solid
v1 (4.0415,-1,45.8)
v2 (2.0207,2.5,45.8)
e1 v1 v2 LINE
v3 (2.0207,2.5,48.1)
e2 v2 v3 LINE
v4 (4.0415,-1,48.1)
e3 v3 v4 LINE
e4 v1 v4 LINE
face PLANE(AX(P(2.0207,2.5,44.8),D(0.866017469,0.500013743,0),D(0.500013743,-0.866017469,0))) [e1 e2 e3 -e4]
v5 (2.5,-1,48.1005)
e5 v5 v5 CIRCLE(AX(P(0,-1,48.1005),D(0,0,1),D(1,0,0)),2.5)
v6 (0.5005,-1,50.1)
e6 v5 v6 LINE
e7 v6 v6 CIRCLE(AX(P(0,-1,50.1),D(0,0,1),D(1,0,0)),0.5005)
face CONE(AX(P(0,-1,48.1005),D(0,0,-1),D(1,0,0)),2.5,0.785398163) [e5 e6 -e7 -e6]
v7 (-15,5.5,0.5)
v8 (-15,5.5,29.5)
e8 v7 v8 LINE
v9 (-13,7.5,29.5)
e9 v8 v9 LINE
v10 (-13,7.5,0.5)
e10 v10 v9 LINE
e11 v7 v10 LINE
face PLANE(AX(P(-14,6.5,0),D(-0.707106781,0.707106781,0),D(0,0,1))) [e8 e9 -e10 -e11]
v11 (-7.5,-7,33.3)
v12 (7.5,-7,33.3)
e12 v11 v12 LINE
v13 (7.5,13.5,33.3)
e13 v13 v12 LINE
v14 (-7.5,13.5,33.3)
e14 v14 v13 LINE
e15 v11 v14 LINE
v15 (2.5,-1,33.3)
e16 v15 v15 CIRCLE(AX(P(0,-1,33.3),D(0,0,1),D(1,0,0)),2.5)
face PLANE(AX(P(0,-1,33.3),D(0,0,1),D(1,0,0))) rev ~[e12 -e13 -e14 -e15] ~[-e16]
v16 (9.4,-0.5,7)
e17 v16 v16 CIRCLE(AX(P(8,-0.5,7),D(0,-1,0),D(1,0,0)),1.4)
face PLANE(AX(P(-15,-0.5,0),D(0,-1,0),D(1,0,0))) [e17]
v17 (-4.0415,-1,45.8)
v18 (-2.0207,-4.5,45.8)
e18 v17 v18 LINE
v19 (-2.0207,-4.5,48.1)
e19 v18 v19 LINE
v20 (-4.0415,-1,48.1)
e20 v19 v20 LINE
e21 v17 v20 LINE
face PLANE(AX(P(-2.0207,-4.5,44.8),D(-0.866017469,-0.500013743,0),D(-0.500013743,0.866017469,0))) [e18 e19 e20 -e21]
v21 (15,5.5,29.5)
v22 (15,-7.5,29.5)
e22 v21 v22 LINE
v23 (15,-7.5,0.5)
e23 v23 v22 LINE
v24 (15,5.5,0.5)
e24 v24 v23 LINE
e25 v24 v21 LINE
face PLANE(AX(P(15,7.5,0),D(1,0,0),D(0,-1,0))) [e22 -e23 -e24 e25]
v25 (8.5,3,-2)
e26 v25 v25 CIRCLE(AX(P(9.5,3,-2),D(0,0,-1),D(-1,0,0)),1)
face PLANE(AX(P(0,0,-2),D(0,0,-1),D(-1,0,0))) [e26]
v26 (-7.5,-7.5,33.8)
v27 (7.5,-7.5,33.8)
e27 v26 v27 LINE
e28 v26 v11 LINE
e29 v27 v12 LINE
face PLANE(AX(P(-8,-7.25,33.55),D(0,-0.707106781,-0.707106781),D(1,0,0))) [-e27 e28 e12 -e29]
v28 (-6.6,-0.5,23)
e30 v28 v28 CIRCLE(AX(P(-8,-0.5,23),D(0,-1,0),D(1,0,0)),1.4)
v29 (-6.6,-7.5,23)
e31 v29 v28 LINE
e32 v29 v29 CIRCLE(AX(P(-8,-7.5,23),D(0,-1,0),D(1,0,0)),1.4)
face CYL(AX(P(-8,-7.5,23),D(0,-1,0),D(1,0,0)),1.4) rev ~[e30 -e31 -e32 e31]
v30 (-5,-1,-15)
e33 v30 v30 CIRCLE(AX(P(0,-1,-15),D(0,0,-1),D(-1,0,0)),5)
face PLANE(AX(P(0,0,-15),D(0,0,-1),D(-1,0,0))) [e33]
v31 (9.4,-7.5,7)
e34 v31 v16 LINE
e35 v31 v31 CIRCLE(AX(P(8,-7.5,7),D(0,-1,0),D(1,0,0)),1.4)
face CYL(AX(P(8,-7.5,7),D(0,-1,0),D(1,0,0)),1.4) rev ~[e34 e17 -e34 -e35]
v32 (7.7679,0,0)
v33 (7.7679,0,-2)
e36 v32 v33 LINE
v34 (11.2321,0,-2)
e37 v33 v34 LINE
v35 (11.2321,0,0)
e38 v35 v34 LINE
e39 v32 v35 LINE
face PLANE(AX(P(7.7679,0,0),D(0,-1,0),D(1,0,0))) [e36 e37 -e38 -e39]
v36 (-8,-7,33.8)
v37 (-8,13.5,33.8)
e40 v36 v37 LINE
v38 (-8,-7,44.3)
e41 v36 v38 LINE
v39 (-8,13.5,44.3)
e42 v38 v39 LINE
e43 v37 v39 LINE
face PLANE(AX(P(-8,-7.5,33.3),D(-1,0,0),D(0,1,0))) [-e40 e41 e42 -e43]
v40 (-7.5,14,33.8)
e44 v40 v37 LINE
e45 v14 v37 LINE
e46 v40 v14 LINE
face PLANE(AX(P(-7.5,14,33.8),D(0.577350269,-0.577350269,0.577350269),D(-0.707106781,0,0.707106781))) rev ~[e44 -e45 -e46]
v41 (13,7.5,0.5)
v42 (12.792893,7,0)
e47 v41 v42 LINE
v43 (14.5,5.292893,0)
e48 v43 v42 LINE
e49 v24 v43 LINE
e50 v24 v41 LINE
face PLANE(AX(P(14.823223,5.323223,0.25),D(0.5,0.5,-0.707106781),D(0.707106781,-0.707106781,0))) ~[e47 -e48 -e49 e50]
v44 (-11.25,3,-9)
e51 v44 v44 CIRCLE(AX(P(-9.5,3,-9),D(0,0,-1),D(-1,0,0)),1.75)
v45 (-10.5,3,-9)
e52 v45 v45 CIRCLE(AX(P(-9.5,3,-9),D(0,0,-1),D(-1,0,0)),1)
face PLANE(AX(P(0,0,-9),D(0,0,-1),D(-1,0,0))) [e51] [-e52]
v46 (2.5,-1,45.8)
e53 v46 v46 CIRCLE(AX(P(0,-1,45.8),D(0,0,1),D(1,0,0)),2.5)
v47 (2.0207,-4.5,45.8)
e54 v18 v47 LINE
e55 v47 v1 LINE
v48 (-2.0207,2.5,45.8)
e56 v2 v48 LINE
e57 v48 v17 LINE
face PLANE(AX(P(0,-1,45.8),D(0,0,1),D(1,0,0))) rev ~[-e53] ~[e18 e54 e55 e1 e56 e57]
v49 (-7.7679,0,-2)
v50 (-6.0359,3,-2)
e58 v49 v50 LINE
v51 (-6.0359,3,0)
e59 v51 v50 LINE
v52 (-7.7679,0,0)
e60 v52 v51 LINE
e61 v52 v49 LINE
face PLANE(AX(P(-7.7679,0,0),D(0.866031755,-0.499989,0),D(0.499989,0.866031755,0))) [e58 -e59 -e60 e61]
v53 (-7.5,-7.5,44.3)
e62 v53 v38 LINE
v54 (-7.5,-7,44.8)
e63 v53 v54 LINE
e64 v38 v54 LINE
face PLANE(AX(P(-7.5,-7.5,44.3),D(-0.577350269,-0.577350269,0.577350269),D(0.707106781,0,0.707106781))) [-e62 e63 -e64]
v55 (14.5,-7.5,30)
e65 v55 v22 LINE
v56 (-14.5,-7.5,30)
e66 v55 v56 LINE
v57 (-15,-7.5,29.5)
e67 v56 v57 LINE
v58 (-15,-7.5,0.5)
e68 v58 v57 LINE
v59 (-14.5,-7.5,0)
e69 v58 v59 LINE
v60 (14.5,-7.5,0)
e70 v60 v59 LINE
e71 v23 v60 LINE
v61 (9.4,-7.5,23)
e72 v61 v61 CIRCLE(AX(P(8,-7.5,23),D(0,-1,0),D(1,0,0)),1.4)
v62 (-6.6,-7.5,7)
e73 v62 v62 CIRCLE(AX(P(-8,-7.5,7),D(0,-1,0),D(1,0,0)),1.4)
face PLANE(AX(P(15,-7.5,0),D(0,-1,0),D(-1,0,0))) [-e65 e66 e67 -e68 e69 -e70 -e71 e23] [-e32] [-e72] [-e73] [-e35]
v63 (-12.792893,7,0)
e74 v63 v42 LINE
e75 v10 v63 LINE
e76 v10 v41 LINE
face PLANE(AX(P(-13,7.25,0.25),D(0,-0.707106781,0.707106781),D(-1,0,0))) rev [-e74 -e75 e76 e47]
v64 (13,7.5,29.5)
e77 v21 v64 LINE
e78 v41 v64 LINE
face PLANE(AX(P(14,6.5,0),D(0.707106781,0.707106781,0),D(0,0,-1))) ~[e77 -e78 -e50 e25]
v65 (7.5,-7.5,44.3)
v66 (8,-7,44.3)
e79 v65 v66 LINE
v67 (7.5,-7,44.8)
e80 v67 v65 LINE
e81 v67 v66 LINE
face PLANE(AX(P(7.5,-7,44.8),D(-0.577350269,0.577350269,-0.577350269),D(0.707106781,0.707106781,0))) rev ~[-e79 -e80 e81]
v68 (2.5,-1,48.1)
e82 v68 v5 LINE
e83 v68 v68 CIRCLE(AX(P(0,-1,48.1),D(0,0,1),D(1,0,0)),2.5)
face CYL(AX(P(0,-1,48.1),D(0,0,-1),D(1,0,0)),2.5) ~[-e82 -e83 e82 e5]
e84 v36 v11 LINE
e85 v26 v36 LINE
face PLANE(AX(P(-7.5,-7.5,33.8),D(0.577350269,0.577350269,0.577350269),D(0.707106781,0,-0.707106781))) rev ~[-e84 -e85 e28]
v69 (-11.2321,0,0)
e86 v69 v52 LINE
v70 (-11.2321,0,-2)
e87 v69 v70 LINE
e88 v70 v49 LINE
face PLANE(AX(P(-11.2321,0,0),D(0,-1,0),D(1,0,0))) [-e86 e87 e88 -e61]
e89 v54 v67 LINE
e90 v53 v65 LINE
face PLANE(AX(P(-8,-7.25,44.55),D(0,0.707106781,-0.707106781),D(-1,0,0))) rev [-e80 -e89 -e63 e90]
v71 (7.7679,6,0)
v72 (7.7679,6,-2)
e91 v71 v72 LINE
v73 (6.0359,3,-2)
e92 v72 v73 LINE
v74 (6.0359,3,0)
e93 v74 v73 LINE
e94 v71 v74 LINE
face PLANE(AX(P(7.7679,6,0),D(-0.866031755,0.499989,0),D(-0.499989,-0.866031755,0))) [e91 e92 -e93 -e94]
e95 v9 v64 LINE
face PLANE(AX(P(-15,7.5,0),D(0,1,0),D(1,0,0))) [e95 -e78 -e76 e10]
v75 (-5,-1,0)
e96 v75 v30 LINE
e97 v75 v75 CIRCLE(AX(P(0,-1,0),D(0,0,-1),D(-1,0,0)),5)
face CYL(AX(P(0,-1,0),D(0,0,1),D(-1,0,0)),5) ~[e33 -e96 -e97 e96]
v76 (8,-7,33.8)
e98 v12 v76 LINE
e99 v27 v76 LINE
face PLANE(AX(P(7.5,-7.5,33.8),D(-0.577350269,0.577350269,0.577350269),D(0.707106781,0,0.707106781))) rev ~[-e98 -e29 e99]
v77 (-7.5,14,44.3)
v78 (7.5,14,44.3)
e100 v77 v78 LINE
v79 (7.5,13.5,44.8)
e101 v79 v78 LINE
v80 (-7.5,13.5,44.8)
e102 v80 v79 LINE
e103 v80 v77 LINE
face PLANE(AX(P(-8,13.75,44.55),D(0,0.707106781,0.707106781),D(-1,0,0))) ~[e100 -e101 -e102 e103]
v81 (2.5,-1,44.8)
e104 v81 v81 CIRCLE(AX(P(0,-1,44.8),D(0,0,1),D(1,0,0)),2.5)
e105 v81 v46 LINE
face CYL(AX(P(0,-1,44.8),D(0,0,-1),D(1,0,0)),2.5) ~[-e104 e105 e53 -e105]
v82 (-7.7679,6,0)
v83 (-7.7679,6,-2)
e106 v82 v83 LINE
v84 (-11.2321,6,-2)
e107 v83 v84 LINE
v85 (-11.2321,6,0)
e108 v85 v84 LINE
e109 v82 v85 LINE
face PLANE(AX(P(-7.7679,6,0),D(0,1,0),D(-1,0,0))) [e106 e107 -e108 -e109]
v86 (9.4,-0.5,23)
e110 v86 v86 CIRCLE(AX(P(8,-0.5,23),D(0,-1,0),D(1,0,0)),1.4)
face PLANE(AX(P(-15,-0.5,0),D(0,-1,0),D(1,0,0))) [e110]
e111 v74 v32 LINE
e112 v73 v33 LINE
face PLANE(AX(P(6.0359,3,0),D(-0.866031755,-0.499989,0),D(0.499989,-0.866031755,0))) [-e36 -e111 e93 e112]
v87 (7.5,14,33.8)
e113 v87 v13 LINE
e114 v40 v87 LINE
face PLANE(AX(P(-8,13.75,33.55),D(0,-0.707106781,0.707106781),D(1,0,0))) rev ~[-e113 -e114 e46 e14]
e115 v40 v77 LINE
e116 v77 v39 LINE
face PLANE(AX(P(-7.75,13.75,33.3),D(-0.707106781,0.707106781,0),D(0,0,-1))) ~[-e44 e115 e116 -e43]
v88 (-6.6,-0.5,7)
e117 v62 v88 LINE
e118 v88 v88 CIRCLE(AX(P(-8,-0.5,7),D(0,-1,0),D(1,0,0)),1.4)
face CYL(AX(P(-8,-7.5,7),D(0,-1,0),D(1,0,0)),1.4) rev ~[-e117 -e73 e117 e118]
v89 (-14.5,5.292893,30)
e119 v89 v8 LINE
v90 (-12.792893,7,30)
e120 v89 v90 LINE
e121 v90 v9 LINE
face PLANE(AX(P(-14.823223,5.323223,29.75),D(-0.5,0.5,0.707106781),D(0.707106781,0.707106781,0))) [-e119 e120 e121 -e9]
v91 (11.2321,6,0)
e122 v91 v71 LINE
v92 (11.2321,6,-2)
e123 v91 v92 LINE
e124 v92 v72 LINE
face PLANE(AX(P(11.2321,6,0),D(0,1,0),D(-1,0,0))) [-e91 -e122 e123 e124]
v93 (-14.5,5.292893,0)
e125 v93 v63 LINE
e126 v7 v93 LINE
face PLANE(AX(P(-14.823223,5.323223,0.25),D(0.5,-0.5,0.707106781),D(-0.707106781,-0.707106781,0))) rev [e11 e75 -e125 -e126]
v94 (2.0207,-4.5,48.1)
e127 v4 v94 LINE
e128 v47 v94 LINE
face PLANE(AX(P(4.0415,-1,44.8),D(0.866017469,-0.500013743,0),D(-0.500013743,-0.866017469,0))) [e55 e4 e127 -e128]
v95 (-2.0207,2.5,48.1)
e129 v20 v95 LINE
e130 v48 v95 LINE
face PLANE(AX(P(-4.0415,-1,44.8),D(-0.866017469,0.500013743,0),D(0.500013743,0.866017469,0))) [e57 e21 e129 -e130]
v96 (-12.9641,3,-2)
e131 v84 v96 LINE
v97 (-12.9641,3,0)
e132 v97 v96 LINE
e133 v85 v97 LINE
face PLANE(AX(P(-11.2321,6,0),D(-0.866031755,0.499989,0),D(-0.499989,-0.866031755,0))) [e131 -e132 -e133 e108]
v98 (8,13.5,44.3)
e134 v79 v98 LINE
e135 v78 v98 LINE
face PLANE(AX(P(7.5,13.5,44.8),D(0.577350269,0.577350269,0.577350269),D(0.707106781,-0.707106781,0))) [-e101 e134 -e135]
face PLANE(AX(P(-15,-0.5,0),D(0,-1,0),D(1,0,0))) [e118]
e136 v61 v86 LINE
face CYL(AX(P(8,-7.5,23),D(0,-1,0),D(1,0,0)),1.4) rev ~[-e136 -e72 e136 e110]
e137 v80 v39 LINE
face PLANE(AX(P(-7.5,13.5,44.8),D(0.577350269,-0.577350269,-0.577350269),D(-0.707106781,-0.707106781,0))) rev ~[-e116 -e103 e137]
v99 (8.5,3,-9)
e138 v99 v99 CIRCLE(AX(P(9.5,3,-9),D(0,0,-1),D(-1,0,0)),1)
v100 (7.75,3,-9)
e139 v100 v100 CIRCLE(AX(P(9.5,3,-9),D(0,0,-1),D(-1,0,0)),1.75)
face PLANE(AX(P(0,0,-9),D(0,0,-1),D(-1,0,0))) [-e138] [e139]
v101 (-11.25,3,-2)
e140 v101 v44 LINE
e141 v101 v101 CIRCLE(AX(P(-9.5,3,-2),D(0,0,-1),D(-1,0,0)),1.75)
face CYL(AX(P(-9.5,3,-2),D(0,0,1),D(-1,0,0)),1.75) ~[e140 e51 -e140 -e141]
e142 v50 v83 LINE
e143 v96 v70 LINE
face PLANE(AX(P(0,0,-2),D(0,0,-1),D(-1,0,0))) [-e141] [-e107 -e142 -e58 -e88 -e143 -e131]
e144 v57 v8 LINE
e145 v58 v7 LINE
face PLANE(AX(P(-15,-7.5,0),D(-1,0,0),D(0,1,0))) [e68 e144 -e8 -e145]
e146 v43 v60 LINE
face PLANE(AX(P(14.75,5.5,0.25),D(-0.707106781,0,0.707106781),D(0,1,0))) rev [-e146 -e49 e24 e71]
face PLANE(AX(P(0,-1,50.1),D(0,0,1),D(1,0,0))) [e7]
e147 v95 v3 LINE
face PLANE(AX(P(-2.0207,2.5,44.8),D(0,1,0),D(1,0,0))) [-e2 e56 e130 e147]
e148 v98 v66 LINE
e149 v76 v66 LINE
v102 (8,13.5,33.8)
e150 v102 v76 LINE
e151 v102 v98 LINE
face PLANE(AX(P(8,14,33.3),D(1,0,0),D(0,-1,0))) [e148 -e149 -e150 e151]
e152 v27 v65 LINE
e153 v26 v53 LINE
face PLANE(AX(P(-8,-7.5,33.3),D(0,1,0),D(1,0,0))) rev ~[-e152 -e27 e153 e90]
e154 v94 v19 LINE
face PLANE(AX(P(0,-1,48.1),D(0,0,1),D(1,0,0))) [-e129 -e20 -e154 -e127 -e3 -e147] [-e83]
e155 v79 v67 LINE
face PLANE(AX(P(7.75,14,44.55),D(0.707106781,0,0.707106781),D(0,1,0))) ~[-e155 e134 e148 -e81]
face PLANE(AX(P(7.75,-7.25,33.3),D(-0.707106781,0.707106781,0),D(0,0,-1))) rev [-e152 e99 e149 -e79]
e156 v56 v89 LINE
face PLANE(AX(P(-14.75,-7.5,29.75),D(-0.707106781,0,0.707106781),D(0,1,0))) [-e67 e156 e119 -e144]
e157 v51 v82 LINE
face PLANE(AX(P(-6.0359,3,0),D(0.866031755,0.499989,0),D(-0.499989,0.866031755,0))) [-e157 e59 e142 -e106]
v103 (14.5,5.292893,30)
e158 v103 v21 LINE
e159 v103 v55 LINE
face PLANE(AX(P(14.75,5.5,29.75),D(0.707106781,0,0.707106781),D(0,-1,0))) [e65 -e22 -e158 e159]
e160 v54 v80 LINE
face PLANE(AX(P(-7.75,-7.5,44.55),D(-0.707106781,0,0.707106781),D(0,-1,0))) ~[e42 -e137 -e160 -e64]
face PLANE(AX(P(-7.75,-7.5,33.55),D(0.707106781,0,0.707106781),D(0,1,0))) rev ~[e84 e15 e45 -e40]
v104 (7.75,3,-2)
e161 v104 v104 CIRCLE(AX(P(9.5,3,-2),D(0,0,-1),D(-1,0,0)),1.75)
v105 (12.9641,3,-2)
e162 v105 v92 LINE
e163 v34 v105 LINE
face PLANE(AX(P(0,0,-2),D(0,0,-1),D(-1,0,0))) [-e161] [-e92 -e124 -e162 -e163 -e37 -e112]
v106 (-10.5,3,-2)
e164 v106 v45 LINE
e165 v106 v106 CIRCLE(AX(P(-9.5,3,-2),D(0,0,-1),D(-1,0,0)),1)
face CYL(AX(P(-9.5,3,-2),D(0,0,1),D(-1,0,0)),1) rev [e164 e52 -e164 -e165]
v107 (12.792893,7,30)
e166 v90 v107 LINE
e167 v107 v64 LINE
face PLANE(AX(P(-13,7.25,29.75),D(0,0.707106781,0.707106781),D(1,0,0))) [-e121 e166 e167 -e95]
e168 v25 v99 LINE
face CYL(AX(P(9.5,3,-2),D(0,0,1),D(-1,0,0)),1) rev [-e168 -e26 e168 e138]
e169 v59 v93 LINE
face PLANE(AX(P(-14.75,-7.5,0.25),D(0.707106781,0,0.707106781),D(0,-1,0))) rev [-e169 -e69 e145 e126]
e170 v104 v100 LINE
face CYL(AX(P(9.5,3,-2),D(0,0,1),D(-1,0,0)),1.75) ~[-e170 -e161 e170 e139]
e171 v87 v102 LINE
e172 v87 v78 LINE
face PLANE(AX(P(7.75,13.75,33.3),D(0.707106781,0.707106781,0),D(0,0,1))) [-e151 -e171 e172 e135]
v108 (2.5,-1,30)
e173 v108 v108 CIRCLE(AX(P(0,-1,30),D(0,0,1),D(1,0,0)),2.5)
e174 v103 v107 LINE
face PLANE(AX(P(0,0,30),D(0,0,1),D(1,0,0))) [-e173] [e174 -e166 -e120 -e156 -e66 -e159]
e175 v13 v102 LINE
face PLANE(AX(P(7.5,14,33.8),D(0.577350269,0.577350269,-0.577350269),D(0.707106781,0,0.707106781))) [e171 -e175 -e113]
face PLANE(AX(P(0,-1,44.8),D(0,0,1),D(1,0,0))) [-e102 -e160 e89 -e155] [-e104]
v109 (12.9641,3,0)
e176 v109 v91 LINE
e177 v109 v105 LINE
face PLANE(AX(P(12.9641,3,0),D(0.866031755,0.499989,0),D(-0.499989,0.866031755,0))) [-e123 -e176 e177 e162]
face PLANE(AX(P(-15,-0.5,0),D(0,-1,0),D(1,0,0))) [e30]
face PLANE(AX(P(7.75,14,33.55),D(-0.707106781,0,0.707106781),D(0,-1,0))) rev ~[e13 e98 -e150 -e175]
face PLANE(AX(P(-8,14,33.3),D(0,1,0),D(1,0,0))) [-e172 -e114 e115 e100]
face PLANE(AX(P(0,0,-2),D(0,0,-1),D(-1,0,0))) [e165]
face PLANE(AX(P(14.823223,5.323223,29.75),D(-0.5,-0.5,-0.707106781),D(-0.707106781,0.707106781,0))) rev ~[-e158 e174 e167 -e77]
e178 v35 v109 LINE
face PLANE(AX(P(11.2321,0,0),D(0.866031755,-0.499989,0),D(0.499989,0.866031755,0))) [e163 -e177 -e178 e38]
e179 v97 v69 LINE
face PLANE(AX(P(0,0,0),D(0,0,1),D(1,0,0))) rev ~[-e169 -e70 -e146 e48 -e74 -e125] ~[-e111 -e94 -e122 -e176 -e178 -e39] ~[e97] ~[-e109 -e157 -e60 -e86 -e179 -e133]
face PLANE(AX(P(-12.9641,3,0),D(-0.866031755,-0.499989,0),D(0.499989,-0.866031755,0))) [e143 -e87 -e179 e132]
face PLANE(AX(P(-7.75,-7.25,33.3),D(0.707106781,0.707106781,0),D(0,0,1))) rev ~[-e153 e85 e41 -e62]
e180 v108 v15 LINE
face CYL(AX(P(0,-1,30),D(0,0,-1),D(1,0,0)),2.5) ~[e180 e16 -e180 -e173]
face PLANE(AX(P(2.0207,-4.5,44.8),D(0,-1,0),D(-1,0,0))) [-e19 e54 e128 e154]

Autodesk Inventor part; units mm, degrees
ref_plane "YZ Plane" through (0, 0, 0) normal (1, 0, 0) x (0, 1, 0)
ref_plane "XZ Plane" through (0, 0, 0) normal (0, 1, 0) x (-1, 0, 0)
ref_plane "XY Plane" through (0, 0, 0) normal (0, 0, 1) x (1, 0, 0)
sketch "Sketch1" plane through (0, 0, 0) normal (0, 0, 1) x (1, 0, 0)
  line L0 (15, -7.5) -> (-15, -7.5)
  line L1 (-15, -7.5) -> (-15, 7.5)
  line L2 (-15, 7.5) -> (15, 7.5)
  line L3 (15, 7.5) -> (15, -7.5)
  line L4 (15, -7.5) -> (-15, 7.5) construction
  line L5 (-15, -7.5) -> (15, 7.5) construction
  point P0 (0, 0)
  dimension "d0" = 15
  dimension "d1" = 30
extrude "Extrusion1" add sketch "Sketch1" along normal blind 30
sketch "Sketch2" plane through (0, 0, 30) normal (0, 0, 1) x (1, 0, 0)
  line L0 (15, 7.5) -> (-15, 7.5) projected
  line L1 (-15, 7.5) -> (-15, -7.5) projected
  line L2 (-15, -7.5) -> (15, -7.5) projected
  line L3 (15, -7.5) -> (15, 7.5) projected
  circle A0 centre (0, -1) radius 2.5
  point P0 (0, 0)
  dimension "d4" = 6.5
  dimension "d5" = 5
extrude "Extrusion2" add sketch "Sketch2" along normal blind 3.3 contours A0
sketch "Sketch3" plane through (0, -1, 33.3) normal (0, 0, 1) x (1, 0, 0)
  circle A0 centre (0, 0) radius 2.5 projected
  line L0 (-8, 15) -> (8, 15)
  line L1 (8, 15) -> (8, -8)
  line L2 (8, -8) -> (-8, -8)
  line L3 (-8, -8) -> (-8, 15)
  line L4 (-8, 15) -> (8, -8) construction
  line L5 (8, 15) -> (-8, -8) construction
  line L6 (-15, -6.5) -> (15, -6.5) projected
  point P0 (0, 1)
  point P1 (0, 3.5)
  point P2 (0, 3.5)
  point P3 (-8, -6.5)
  point P4 (8, -6.5)
  dimension "d9" = 23
  dimension "d10" = 16
  dimension "d11" = 8
extrude "Extrusion3" add sketch "Sketch3" along normal blind 11.5 contours A0 | L0 L1 L6 L3
sketch "Sketch4" plane through (-15, -7.5, 0) normal (0, -1, 0) x (1, 0, 0)
  line L0 (0, 0) -> (30, 0) projected
  line L1 (30, 0) -> (30, 30) projected
  line L2 (0, 30) -> (30, 30) projected
  line L3 (0, 0) -> (0, 30) projected
  circle A0 centre (7, 7) radius 1.4
  circle A1 centre (23, 7) radius 1.4
  circle A2 centre (7, 23) radius 1.4
  circle A3 centre (23, 23) radius 1.4
  point P0 (15, 0)
  point P1 (15, 30)
  dimension "d16" = 16
  dimension "d19" = 16
  dimension "d22" = 8
  dimension "d23" = 7
  dimension "d24" = 2.8
extrude "Extrusion4" cut sketch "Sketch4" against normal blind 7 contours A0 | A1 | A2 | A3
sketch "Sketch5" plane through (0, -1, 44.8) normal (0, 0, 1) x (1, 0, 0)
  circle A0 centre (0, 0) radius 2.5 projected
  line L0 (-2.0207, 3.5) -> (2.0207, 3.5)
  line L1 (2.0207, 3.5) -> (4.0415, 0)
  line L2 (4.0415, 0) -> (2.0207, -3.5)
  line L3 (2.0207, -3.5) -> (-2.0207, -3.5)
  line L4 (-2.0207, -3.5) -> (-4.0415, 0)
  line L5 (-4.0415, 0) -> (-2.0207, 3.5)
  point P0 (0, 1)
  dimension "d35" = 7
extrude "Extrusion5" add sketch "Sketch5" along normal blind 3.3 contours A0 | L0 L1 L2 L3 L4 L5
sketch "Sketch6" plane through (0, -1, 48.1) normal (0, 0, 1) x (1, 0, 0)
  line L0 (-4.0415, 0) -> (-2.0207, -3.5) projected
  line L1 (-2.0207, -3.5) -> (2.0207, -3.5) projected
  line L2 (2.0207, -3.5) -> (4.0415, 0) projected
  line L3 (4.0415, 0) -> (2.0207, 3.5) projected
  line L4 (2.0207, 3.5) -> (-2.0207, 3.5) projected
  line L5 (-2.0207, 3.5) -> (-4.0415, 0) projected
  circle A0 centre (0, 0) radius 2.5 projected
  point P0 (0, 1)
extrude "Extrusion6" add sketch "Sketch6" along normal blind 2 contours A0
chamfer "Chamfer1" distance 2 angle 45 1 edges at (-2.5, -1, 50.1)
sketch "Sketch7" plane through (0, -1, 44.8) normal (0, 0, 1) x (1, 0, 0)
  circle A0 centre (0, 0) radius 2.5 projected
  circle A1 centre (0, 0) radius 2.5 projected
  line L0 (-4.0415, 0) -> (-2.0207, -3.5) projected
  line L1 (-2.0207, -3.5) -> (2.0207, -3.5) projected
  line L2 (2.0207, -3.5) -> (4.0415, 0) projected
  line L3 (4.0415, 0) -> (2.0207, 3.5) projected
  line L4 (2.0207, 3.5) -> (-2.0207, 3.5) projected
  line L5 (-2.0207, 3.5) -> (-4.0415, 0) projected
  point P0 (0, 1)
extrude "Extrusion7" cut sketch "Sketch7" along normal blind 1
chamfer "Chamfer2" distance 2 angle 45 2 edges at (-15, 7.5, 15) (15, 7.5, 15)
chamfer "Chamfer3" distance 0.5 angle 45 22 edges at (-8, 3.25, 33.3) (8, 3.25, 33.3) (0, 14, 33.3) (8, 14, 39.05) (-8, 14, 39.05) (0, 14, 44.8) (-8, 3.25, 44.8) (-8, -7.5, 39.05) (0, -7.5, 33.3) (8, -7.5, 39.05) (0, -7.5, 44.8) (8, 3.25, 44.8) (0, 7.5, 30) (15, -1, 30) (14, 6.5, 30) (-15, -1, 30) (-14, 6.5, 30) (-15, -1, 0) (-14, 6.5, 0) (0, 7.5, 0) (14, 6.5, 0) (15, -1, 0)
sketch "Sketch8" plane through (0, 0, 0) normal (0, 0, -1) x (-1, 0, 0)
  line L0 (-14.5, -7.5) -> (-14.5, 5.2929) projected
  line L1 (14.5, -7.5) -> (-14.5, -7.5) projected
  line L2 (14.5, 5.2929) -> (14.5, -7.5) projected
  line L3 (12.7929, 7) -> (14.5, 5.2929) projected
  line L4 (-12.7929, 7) -> (12.7929, 7) projected
  line L5 (-14.5, 5.2929) -> (-12.7929, 7) projected
  line L6 (7.7679, 6) -> (11.2321, 6)
  line L7 (11.2321, 6) -> (12.9641, 3)
  line L8 (12.9641, 3) -> (11.2321, 0)
  line L9 (11.2321, 0) -> (7.7679, 0)
  line L10 (7.7679, 0) -> (6.0359, 3)
  line L11 (6.0359, 3) -> (7.7679, 6)
  line L12 (-11.2321, 6) -> (-7.7679, 6)
  line L13 (-7.7679, 6) -> (-6.0359, 3)
  line L14 (-6.0359, 3) -> (-7.7679, 0)
  line L15 (-7.7679, 0) -> (-11.2321, 0)
  line L16 (-11.2321, 0) -> (-12.9641, 3)
  line L17 (-12.9641, 3) -> (-11.2321, 6)
  point P0 (0, 0)
  point P1 (9.5, 3)
  point P2 (-9.5, 3)
  dimension "d51" = 6
  dimension "d52" = 5
  dimension "d53" = 5
  dimension "d54" = 4
extrude "Extrusion8" add sketch "Sketch8" along normal blind 2 contours L6 L7 L8 L9 L10 L11 | L12 L13 L14 L15 L16 L17
sketch "Sketch9" plane through (0, 0, -2) normal (0, 0, -1) x (-1, 0, 0)
  line L0 (6.0359, 3) -> (7.7679, 0) projected
  line L1 (7.7679, 0) -> (11.2321, 0) projected
  line L2 (11.2321, 0) -> (12.9641, 3) projected
  line L3 (12.9641, 3) -> (11.2321, 6) projected
  line L4 (11.2321, 6) -> (7.7679, 6) projected
  line L5 (7.7679, 6) -> (6.0359, 3) projected
  line L6 (-12.9641, 3) -> (-11.2321, 0) projected
  line L7 (-11.2321, 0) -> (-7.7679, 0) projected
  line L8 (-7.7679, 0) -> (-6.0359, 3) projected
  line L9 (-6.0359, 3) -> (-7.7679, 6) projected
  line L10 (-7.7679, 6) -> (-11.2321, 6) projected
  line L11 (-11.2321, 6) -> (-12.9641, 3) projected
  circle A0 centre (9.5, 3) radius 1.75
  circle A1 centre (-9.5, 3) radius 1.75
  circle A2 centre (9.5, 3) radius 1
  circle A3 centre (-9.5, 3) radius 1
  point P0 (0, 0)
  point P1 (9.5, 0)
  point P2 (-9.5, 0)
  dimension "d57" = 3.5
  dimension "d58" = 2
extrude "Extrusion9" add sketch "Sketch9" along normal blind 7 contours A0 | A1
sketch "Sketch10" plane through (0, 0, 0) normal (0, 0, -1) x (-1, 0, 0)
  line L0 (-12.9641, 3) -> (-11.2321, 6) projected
  line L1 (-11.2321, 6) -> (-7.7679, 6) projected
  line L2 (-7.7679, 6) -> (-6.0359, 3) projected
  line L3 (-6.0359, 3) -> (-7.7679, 0) projected
  line L4 (-7.7679, 0) -> (-11.2321, 0) projected
  line L5 (-11.2321, 0) -> (-12.9641, 3) projected
  line L6 (6.0359, 3) -> (7.7679, 6) projected
  line L7 (7.7679, 6) -> (11.2321, 6) projected
  line L8 (11.2321, 6) -> (12.9641, 3) projected
  line L9 (12.9641, 3) -> (11.2321, 0) projected
  line L10 (11.2321, 0) -> (7.7679, 0) projected
  line L11 (7.7679, 0) -> (6.0359, 3) projected
  line L12 (-14.5, -7.5) -> (-14.5, 5.2929) projected
  line L13 (14.5, -7.5) -> (-14.5, -7.5) projected
  line L14 (14.5, 5.2929) -> (14.5, -7.5) projected
  line L15 (12.7929, 7) -> (14.5, 5.2929) projected
  line L16 (-12.7929, 7) -> (12.7929, 7) projected
  line L17 (-14.5, 5.2929) -> (-12.7929, 7) projected
  circle A0 centre (0, -1) radius 2.5 projected
  circle A1 centre (0, -1) radius 0.5 projected
  circle A2 centre (0, -1) radius 5
  point P0 (0, 0)
  dimension "d61" = 10
extrude "Extrusion10" add sketch "Sketch10" along normal blind 15 contours A0 | A1 | A2
equation "\"d22\" = 0.5 * d16"
equation "\"d53\" = d52"
properties part number "Arethusa" material "Aluminum 6061"
